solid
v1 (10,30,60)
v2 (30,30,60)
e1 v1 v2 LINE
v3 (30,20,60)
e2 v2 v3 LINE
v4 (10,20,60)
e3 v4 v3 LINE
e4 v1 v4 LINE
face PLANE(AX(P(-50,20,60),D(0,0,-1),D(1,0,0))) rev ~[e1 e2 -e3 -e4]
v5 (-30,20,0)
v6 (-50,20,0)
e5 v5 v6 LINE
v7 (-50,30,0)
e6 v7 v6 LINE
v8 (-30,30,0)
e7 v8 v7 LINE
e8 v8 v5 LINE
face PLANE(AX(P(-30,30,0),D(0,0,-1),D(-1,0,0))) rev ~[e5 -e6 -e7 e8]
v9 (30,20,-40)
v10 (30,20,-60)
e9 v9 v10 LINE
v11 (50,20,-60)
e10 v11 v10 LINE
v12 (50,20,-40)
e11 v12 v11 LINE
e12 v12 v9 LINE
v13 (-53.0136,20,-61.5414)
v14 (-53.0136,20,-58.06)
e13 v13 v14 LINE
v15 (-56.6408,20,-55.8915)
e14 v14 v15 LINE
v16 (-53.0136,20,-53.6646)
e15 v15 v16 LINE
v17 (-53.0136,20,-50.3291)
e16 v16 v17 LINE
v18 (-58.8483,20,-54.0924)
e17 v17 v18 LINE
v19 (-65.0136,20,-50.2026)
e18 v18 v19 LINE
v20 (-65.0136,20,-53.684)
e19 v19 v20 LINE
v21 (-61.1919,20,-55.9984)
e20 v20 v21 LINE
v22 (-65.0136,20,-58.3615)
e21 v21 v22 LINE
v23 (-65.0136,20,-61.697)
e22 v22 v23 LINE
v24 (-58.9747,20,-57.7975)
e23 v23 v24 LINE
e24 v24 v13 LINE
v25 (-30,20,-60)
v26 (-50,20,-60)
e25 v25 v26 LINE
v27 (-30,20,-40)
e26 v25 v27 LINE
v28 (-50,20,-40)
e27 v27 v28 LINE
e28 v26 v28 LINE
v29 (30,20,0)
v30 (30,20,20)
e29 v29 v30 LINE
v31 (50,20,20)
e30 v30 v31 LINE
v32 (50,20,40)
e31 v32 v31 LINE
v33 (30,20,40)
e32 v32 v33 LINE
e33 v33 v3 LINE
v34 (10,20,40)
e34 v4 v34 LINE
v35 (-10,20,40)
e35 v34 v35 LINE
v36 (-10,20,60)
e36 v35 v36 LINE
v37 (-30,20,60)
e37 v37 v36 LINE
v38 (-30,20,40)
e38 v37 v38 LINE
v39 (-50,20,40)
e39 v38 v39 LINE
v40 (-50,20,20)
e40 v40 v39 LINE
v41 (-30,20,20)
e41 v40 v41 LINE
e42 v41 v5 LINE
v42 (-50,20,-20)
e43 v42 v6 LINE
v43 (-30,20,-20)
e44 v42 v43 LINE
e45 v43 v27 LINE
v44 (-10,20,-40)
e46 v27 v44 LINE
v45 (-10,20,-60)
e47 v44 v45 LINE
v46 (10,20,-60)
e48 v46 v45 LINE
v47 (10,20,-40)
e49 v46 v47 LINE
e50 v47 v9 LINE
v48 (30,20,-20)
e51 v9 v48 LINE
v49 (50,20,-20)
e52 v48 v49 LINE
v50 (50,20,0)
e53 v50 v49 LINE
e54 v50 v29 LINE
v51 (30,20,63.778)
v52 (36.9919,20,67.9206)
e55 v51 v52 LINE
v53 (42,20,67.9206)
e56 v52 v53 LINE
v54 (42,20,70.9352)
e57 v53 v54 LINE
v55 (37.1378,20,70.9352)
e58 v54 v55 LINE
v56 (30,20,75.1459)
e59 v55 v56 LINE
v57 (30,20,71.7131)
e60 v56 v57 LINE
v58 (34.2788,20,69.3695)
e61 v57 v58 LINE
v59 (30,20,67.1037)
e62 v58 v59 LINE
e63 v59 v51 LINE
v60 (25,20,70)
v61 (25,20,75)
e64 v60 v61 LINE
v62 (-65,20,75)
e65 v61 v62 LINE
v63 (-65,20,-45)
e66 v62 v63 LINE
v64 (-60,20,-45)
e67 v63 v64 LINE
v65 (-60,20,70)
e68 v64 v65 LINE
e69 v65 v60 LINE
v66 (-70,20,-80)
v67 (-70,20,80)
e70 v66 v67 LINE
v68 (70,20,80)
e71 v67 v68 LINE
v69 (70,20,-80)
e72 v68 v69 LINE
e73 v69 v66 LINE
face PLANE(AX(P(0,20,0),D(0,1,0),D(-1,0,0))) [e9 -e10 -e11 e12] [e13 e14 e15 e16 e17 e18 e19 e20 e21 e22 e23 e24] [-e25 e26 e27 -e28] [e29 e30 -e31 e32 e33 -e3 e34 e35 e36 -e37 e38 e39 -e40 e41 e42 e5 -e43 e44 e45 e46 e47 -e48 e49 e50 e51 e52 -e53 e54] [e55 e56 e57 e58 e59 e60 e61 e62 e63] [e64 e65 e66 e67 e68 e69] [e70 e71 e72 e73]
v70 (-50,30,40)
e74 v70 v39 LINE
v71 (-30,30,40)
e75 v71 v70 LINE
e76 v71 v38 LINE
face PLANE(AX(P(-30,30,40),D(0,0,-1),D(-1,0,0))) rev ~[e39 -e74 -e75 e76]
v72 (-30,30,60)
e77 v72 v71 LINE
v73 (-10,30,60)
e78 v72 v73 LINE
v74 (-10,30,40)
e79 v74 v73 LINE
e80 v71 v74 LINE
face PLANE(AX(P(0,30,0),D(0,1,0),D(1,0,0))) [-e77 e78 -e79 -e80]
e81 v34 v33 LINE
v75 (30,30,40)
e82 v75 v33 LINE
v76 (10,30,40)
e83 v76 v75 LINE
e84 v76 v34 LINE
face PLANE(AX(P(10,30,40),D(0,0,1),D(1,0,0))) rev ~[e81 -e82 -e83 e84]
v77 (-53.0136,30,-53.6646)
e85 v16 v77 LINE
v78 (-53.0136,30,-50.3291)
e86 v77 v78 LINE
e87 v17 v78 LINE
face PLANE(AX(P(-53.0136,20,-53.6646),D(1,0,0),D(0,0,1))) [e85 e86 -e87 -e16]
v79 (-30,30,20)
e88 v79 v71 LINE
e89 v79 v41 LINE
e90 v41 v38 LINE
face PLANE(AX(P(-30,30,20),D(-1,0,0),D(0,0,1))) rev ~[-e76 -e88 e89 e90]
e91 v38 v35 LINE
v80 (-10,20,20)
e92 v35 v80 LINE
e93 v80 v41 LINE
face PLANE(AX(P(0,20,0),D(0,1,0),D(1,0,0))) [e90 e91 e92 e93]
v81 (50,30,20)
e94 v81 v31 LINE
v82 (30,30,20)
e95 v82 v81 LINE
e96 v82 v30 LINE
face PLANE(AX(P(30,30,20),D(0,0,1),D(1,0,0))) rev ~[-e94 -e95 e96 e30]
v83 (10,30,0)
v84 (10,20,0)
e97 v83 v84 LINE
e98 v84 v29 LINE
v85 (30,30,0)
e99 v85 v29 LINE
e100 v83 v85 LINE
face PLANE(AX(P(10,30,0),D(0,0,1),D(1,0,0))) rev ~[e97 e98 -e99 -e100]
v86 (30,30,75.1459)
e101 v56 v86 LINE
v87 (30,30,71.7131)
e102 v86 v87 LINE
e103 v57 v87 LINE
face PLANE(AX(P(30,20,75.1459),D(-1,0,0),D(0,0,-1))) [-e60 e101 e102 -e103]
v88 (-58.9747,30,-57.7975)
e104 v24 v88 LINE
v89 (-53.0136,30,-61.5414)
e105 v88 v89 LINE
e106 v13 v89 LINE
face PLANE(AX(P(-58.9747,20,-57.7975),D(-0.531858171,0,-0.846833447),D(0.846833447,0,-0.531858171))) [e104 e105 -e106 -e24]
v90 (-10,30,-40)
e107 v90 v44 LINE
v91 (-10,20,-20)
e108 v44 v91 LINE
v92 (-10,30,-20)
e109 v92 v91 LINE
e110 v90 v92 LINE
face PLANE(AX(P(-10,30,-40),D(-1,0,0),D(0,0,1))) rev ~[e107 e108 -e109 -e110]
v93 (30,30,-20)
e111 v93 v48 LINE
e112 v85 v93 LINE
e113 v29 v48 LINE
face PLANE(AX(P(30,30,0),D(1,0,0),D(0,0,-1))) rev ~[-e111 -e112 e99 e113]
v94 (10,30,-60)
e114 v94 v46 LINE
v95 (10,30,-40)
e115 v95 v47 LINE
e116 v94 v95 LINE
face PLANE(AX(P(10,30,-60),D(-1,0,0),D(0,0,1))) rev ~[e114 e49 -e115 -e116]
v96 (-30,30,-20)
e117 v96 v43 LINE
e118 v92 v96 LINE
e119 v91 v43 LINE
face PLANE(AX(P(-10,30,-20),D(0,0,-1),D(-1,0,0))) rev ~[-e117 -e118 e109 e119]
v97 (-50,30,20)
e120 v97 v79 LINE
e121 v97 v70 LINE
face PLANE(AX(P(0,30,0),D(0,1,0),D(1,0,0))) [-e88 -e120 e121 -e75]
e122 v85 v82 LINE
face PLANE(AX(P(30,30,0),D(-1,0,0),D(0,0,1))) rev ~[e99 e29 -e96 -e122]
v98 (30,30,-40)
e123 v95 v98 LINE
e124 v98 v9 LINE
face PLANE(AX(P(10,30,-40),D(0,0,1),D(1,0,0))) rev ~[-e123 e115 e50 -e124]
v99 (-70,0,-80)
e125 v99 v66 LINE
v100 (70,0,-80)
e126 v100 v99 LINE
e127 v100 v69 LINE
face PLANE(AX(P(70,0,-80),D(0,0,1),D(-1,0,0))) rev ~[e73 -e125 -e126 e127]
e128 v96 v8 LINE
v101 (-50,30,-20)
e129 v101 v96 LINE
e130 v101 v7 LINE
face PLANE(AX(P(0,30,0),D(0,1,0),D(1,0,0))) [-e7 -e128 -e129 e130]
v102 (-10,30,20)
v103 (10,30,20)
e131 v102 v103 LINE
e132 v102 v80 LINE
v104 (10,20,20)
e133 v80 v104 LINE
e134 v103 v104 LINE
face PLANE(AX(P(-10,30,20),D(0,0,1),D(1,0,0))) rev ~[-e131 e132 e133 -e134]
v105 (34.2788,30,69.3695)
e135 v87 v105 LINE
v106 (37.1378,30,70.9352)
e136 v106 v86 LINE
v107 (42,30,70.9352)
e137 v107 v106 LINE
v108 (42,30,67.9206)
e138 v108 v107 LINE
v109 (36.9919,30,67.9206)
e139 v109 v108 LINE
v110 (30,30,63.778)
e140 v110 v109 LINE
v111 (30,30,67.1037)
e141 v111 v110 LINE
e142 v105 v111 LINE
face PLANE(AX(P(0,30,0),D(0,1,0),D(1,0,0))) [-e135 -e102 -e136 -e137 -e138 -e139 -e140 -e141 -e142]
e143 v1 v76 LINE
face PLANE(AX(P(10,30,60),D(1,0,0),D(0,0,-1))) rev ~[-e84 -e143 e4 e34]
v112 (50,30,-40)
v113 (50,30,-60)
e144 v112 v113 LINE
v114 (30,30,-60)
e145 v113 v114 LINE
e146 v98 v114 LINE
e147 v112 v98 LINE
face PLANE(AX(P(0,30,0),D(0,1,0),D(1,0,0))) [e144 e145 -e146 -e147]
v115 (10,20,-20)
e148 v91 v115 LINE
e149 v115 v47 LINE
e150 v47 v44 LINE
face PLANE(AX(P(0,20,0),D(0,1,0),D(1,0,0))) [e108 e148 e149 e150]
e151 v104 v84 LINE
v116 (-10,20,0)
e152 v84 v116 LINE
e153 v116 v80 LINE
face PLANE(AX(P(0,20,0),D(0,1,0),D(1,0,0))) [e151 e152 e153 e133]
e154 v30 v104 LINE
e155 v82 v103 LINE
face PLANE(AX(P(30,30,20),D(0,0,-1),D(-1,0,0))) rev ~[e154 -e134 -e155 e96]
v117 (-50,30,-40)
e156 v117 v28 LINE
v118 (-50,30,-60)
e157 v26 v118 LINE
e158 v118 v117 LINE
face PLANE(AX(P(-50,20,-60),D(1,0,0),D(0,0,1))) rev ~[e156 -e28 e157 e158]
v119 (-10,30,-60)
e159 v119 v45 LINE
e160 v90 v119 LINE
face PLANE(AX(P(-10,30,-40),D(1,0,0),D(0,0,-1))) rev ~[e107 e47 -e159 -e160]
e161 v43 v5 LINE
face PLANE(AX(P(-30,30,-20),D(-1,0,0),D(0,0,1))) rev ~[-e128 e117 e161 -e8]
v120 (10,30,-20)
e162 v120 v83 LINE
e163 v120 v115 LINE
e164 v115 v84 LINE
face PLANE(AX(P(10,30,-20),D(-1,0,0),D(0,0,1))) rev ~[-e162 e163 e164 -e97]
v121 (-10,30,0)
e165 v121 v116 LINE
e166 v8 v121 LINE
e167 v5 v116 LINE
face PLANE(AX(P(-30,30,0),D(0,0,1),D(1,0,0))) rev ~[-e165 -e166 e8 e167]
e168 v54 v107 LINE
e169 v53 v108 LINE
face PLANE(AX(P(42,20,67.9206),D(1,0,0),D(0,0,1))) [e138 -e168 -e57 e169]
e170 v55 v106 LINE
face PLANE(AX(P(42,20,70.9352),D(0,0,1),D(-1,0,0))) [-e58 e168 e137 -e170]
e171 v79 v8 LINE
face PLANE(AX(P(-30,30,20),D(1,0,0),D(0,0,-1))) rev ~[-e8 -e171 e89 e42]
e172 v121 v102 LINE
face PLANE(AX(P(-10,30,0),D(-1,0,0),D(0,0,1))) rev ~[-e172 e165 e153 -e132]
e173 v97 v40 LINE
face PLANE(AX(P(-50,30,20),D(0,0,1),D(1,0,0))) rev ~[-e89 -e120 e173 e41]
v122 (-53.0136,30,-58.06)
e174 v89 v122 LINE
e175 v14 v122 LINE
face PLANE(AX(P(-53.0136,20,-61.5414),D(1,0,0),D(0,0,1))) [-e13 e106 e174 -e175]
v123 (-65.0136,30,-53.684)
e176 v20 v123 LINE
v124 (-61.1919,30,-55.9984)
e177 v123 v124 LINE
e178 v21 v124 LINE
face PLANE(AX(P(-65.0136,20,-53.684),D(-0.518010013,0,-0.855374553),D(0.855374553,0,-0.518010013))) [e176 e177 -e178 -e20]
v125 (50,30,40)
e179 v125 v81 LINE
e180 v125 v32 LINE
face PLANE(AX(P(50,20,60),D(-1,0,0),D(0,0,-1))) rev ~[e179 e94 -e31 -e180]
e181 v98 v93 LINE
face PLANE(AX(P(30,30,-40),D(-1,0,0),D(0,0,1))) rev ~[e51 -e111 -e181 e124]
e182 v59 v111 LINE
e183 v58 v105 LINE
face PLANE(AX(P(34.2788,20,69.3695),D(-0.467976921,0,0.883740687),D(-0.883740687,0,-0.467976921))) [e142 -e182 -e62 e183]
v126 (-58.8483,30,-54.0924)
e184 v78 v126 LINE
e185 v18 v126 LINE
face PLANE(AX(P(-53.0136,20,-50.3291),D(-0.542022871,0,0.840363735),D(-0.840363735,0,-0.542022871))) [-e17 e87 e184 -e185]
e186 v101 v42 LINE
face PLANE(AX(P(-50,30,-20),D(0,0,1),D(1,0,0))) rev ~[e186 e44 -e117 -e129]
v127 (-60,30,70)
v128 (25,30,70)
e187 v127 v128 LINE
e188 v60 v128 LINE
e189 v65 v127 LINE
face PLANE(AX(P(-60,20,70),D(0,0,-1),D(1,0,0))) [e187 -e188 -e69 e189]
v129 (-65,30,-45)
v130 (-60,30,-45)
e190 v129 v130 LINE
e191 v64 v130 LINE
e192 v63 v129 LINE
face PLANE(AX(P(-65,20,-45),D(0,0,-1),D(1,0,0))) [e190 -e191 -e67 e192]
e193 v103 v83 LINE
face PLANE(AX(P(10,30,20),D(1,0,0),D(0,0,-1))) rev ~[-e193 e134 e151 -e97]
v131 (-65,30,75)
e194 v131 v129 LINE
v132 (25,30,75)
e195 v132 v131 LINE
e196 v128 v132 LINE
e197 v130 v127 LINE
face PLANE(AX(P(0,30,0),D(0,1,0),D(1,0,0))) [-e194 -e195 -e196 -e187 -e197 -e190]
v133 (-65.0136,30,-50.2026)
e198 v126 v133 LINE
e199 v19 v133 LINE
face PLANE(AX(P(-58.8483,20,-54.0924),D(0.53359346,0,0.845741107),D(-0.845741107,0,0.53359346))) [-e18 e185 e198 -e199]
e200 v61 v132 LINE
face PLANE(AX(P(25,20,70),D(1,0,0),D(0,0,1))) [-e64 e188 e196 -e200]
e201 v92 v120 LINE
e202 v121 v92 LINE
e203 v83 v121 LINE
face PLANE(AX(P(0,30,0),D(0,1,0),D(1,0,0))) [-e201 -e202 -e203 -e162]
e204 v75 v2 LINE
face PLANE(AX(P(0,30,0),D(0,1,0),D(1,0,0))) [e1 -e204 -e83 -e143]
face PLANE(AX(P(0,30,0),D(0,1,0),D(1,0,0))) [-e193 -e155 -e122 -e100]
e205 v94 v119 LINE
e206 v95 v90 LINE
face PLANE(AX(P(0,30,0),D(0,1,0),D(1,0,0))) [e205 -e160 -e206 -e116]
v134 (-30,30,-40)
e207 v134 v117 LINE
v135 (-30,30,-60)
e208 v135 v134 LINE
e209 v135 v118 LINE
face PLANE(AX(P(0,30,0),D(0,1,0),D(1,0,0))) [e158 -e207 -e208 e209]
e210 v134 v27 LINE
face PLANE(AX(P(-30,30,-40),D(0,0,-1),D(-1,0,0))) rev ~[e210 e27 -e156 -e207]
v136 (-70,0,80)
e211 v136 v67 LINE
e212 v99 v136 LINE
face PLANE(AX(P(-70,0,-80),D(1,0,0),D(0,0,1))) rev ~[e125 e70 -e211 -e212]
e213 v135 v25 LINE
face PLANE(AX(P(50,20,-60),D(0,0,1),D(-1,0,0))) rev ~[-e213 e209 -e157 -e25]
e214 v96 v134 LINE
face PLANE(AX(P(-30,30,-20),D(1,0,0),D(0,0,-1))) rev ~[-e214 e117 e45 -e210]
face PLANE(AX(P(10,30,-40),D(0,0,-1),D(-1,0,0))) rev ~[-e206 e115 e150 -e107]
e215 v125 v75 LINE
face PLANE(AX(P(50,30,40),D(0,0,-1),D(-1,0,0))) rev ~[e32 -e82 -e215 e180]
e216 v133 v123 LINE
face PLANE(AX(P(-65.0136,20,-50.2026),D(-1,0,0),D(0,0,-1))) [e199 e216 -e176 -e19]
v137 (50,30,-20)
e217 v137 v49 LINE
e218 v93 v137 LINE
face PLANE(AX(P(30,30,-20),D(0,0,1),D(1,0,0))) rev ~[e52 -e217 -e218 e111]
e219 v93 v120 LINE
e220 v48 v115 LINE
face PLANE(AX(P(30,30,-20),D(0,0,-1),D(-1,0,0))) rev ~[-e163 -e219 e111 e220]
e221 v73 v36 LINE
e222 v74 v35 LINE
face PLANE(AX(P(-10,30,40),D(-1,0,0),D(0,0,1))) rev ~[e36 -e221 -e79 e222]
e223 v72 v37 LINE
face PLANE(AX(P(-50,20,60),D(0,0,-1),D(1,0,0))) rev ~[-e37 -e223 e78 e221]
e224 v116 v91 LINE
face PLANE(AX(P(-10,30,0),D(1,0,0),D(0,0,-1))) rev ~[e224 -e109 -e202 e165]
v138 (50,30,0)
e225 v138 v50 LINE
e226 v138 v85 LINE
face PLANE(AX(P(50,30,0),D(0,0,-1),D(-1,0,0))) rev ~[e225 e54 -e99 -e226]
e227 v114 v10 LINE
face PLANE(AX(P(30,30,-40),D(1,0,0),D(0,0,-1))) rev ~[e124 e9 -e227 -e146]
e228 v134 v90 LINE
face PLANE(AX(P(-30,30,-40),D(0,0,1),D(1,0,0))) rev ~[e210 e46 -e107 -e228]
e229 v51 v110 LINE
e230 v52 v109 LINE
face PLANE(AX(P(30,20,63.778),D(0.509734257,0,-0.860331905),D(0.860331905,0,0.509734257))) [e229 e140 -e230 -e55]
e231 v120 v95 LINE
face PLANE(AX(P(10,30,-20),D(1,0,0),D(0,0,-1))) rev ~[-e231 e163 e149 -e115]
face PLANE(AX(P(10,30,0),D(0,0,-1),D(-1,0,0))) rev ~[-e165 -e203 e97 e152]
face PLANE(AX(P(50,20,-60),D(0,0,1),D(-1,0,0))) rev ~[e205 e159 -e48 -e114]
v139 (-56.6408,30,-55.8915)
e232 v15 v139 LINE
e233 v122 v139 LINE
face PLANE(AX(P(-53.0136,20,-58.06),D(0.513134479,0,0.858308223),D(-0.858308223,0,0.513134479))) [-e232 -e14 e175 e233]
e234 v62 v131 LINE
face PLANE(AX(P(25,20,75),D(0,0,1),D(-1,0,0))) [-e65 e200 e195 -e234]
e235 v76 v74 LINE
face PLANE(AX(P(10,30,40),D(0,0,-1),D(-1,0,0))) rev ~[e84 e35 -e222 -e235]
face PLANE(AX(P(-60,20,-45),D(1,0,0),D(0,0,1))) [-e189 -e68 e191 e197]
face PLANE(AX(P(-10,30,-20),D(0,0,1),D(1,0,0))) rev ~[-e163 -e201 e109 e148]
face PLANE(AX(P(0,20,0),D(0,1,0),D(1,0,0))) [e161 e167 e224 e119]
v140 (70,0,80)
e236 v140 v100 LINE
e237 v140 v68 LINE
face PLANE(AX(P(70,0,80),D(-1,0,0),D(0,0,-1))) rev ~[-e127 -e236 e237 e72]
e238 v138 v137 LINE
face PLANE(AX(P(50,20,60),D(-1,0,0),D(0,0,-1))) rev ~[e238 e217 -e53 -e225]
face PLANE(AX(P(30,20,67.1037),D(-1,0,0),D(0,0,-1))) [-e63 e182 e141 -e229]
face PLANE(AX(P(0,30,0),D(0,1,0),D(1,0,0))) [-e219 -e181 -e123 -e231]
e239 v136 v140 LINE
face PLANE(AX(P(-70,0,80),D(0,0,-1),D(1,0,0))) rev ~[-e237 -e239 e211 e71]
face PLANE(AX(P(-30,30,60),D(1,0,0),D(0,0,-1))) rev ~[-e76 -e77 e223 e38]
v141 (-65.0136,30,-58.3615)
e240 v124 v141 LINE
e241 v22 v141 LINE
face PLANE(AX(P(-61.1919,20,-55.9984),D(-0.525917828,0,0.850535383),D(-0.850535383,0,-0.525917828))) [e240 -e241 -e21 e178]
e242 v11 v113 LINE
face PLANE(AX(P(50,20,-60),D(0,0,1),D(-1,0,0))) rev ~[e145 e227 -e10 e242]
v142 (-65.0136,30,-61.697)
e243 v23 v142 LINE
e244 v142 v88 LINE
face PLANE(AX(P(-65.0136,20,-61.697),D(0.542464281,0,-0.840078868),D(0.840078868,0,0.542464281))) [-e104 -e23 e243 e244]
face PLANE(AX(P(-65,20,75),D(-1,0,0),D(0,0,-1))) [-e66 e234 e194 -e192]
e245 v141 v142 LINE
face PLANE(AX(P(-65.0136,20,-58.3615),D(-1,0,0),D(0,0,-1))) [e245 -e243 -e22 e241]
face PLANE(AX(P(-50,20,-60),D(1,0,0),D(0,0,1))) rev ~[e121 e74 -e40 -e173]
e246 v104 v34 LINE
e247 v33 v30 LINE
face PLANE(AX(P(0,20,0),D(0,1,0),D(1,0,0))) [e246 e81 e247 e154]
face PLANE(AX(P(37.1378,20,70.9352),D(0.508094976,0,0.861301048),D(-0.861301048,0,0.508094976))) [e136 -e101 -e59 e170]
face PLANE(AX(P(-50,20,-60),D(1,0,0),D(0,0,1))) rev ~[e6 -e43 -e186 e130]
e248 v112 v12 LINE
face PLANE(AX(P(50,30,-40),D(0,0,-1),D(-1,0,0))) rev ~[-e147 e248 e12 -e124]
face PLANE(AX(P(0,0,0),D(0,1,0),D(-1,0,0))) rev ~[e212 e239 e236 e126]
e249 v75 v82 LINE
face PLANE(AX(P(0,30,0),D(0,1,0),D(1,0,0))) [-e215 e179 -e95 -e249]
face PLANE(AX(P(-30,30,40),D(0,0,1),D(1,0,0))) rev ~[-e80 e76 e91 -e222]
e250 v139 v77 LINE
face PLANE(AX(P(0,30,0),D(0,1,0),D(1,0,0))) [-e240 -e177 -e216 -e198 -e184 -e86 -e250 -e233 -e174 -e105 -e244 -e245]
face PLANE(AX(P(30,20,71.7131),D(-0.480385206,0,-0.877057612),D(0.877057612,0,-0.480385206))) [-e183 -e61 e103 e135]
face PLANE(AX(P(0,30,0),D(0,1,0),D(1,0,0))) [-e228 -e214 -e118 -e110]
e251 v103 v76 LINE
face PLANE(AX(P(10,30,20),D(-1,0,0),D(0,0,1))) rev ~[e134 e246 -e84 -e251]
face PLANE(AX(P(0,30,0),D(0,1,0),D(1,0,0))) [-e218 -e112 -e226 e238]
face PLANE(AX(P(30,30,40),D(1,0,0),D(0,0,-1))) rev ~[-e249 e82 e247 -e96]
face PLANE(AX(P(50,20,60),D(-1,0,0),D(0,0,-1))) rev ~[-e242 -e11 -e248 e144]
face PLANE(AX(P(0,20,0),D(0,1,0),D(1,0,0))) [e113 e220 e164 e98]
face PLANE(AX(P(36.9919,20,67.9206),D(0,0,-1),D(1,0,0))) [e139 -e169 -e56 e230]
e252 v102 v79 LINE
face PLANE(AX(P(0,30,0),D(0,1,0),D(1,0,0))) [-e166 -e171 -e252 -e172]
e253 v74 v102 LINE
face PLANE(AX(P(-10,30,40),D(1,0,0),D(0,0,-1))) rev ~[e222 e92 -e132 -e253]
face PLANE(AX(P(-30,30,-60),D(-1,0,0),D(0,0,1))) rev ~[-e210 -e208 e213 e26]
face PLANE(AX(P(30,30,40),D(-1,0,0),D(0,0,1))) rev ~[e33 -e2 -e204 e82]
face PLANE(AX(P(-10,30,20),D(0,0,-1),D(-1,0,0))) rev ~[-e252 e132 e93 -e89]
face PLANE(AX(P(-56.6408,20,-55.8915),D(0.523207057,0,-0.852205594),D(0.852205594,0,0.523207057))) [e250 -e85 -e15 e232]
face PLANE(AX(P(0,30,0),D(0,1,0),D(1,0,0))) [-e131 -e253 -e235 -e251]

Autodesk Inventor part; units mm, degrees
ref_plane "YZ Plane" through (0, 0, 0) normal (1, 0, 0) x (0, 1, 0)
ref_plane "XZ Plane" through (0, 0, 0) normal (0, 1, 0) x (-1, 0, 0)
ref_plane "XY Plane" through (0, 0, 0) normal (0, 0, 1) x (1, 0, 0)
sketch "Sketch1" plane through (0, 0, 0) normal (0, 1, 0) x (-1, 0, 0)
  line L0 (70, 80) -> (-70, 80)
  line L1 (-70, 80) -> (-70, -80)
  line L2 (-70, -80) -> (70, -80)
  line L3 (70, -80) -> (70, 80)
  point P0 (0, 0)
  dimension "d0" = 140
  dimension "d1" = 160
  dimension "d4" = 70
  dimension "d5" = 80
extrude "Extrusion1" add sketch "Sketch1" along normal blind 20
sketch "Sketch2" plane through (0, 20, 0) normal (0, 1, 0) x (1, 0, 0)
  line L0 (50, 60) -> (-50, 60)
  line L1 (-50, 60) -> (-50, -60)
  line L2 (-50, -60) -> (50, -60)
  line L3 (50, -60) -> (50, 60)
  line L4 (50, 60) -> (-50, -60) construction
  line L5 (-50, 60) -> (50, -60) construction
  point P0 (0, 0)
  dimension "d8" = 100
  dimension "d9" = 120
extrude "Extrusion2" add sketch "Sketch2" along normal blind 10
sketch "Sketch3" plane through (0, 30, 0) normal (0, 1, 0) x (1, 0, 0)
  line L0 (-50, 60) -> (-50, -60) projected
  line L1 (-50, -60) -> (-30, -60)
  line L2 (-30, -60) -> (-30, -40)
  line L3 (-30, -40) -> (-50, -40)
  line L4 (-50, -40) -> (-50, -60)
  line L5 (-10, -60) -> (10, -60)
  line L6 (10, -60) -> (10, -40)
  line L7 (10, -40) -> (-10, -40)
  line L8 (-10, -40) -> (-10, -60)
  line L9 (10, -40) -> (30, -40)
  line L10 (30, -40) -> (30, -20)
  line L11 (30, -20) -> (10, -20)
  line L12 (10, -20) -> (10, -40)
  line L13 (-30, -40) -> (-10, -40)
  line L14 (-10, -40) -> (-10, -20)
  line L15 (-10, -20) -> (-30, -20)
  line L16 (-30, -20) -> (-30, -40)
  line L17 (-50, -60) -> (50, -60) projected
  line L18 (-53.5785, -189.3047) -> (-33.5785, -189.3047)
  line L19 (-33.5785, -189.3047) -> (-33.5785, -169.3047)
  line L20 (-33.5785, -169.3047) -> (-53.5785, -169.3047)
  line L21 (-53.5785, -169.3047) -> (-53.5785, -189.3047)
  line L22 (-50, -20) -> (-30, -20)
  line L23 (-30, -20) -> (-30, 0)
  line L24 (-30, 0) -> (-50, 0)
  line L25 (-50, 0) -> (-50, -20)
  line L26 (-10, -20) -> (10, -20)
  line L27 (10, -20) -> (10, 0)
  line L28 (10, 0) -> (-10, 0)
  line L29 (-10, 0) -> (-10, -20)
  line L30 (10, 40) -> (30, 40)
  line L31 (30, 40) -> (30, 60)
  line L32 (30, 60) -> (10, 60)
  line L33 (10, 60) -> (10, 40)
  line L34 (-10, 20) -> (-30, 20)
  line L35 (-30, 0) -> (-10, 0)
  line L36 (-30, 20) -> (-30, 0)
  line L37 (-10, 0) -> (-10, 20)
  line L38 (10, 40) -> (-10, 40)
  line L39 (-10, 20) -> (10, 20)
  line L40 (-10, 40) -> (-10, 20)
  line L41 (10, 20) -> (10, 40)
  line L42 (30, 20) -> (10, 20)
  line L43 (10, 0) -> (30, 0)
  line L44 (10, 20) -> (10, 0)
  line L45 (30, 0) -> (30, 20)
  line L46 (-10, 60) -> (-30, 60)
  line L47 (-30, 40) -> (-10, 40)
  line L48 (-30, 60) -> (-30, 40)
  line L49 (-10, 40) -> (-10, 60)
  line L50 (-30, 40) -> (-50, 40)
  line L51 (-50, 20) -> (-30, 20)
  line L52 (-50, 40) -> (-50, 20)
  line L53 (-30, 20) -> (-30, 40)
  line L54 (30, 20) -> (50, 20)
  line L55 (50, 20) -> (50, 40)
  line L56 (50, 40) -> (30, 40)
  line L57 (30, 40) -> (30, 20)
  line L58 (30, -20) -> (50, -20)
  line L59 (50, -20) -> (50, 0)
  line L60 (50, 0) -> (30, 0)
  line L61 (30, 0) -> (30, -20)
  line L62 (30, -60) -> (50, -60)
  line L63 (50, -60) -> (50, -40)
  line L64 (50, -40) -> (30, -40)
  line L65 (30, -40) -> (30, -60)
  dimension "d12" = 20
  dimension "d13" = 20
  dimension "d14" = 20
  dimension "d15" = 20
  dimension "d17" = 20
  dimension "d18" = 20
  dimension "d19" = 20
  dimension "d21" = 20
  dimension "d22" = 20
  dimension "d25" = 20
  dimension "d26" = 20
  dimension "d27" = 20
  dimension "d28" = 20
  dimension "d30" = 20
  dimension "d31" = 20
  dimension "d33" = 20
  dimension "d34" = 20
  dimension "d36" = 20
  dimension "d37" = 20
  dimension "d39" = 20
  dimension "d40" = 20
  dimension "d42" = 20
  dimension "d43" = 20
  dimension "d45" = 20
  dimension "d46" = 20
  dimension "d48" = 20
  dimension "d49" = 20
  dimension "d77" = 20
  dimension "d78" = 20
  dimension "d80" = 20
  dimension "d81" = 20
  dimension "d83" = 20
  dimension "d84" = 20
extrude "Extrusion5" cut sketch "Sketch3" against normal blind 10 contours L50 L53 L51 L0 | L48 L46 L49 L47 | L24 L23 L22 L0 | L34 L37 L35 L36 | L38 L41 L39 L40 | L33 L32 L31 L30 | L3 L2 L1 L0 | L15 L14 L13 L16 | L28 L27 L26 L29 | L42 L45 L43 L44 | L56 L55 L54 L57 | L7 L6 L5 L8 | L11 L10 L9 L12 | L60 L59 L58 L61 | L64 L63 L17 L65
sketch "Sketch4" plane through (0, 20, 0) normal (0, 1, 0) x (1, 0, 0)
  line L0 (-65, -75) -> (-65, 45)
  line L1 (-65, 45) -> (-60, 45)
  line L2 (-60, 45) -> (-60, -70)
  line L3 (-60, -70) -> (25, -70)
  line L4 (25, -70) -> (25, -75)
  line L5 (25, -75) -> (-65, -75)
  line L6 (-70, -80) -> (70, -80) projected
  line L7 (-70, 80) -> (-70, -80) projected
  line L8 (-53.0136, 61.5997) -> (-53.0136, 50) construction
  line L9 (-53.0136, 50) -> (-65.2641, 50) construction
  line L10 (-65.2641, 50) -> (-65.2641, 61.5997) construction
  line L11 (-65.2641, 61.5997) -> (-53.0136, 61.5997) construction
  line L12 (30, -75) -> (30, -63.5159) construction
  line L13 (30, -63.5159) -> (34.1954, -63.5159) construction
  line L14 (34.1954, -63.5159) -> (34.1954, -75) construction
  line L15 (34.1954, -75) -> (30, -75) construction
  line L16 (-65.0136, 50.2026) -> (-65.0136, 53.684)
  line L17 (-65.0136, 53.684) -> (-61.1919, 55.9984)
  line L18 (-61.1919, 55.9984) -> (-65.0136, 58.3615)
  line L19 (-65.0136, 58.3615) -> (-65.0136, 61.697)
  line L20 (-65.0136, 61.697) -> (-58.9747, 57.7975)
  line L21 (-58.9747, 57.7975) -> (-53.0136, 61.5414)
  line L22 (-53.0136, 61.5414) -> (-53.0136, 58.06)
  line L23 (-53.0136, 58.06) -> (-56.6408, 55.8915)
  line L24 (-56.6408, 55.8915) -> (-53.0136, 53.6646)
  line L25 (-53.0136, 53.6646) -> (-53.0136, 50.3291)
  line L26 (-53.0136, 50.3291) -> (-58.8483, 54.0924)
  line L27 (-58.8483, 54.0924) -> (-65.0136, 50.2026)
  line L28 (30, -63.778) -> (36.9919, -67.9206)
  line L29 (36.9919, -67.9206) -> (42, -67.9206)
  line L30 (42, -67.9206) -> (42, -70.9352)
  line L31 (42, -70.9352) -> (37.1378, -70.9352)
  line L32 (37.1378, -70.9352) -> (30, -75.1459)
  line L33 (30, -75.1459) -> (30, -71.7131)
  line L34 (30, -71.7131) -> (34.2788, -69.3695)
  line L35 (34.2788, -69.3695) -> (30, -67.1037)
  line L36 (30, -67.1037) -> (30, -63.778)
  point P0 (0, 0)
  point P1 (-62.5, 45)
  point P2 (-58.8748, 54.3197)
  point P3 (25, -72.5)
  point P4 (28.8521, -69.3123)
  point P5 (28.8521, -69.3123)
  dimension "d53" = 5
  dimension "d54" = 5
  dimension "d55" = 5
  dimension "d56" = 5
  dimension "d57" = 120
  dimension "d58" = 90
  dimension "d63" = 12.2505
  dimension "d73" = 5
  dimension "d88" = 5
  dimension "d90" = 5
extrude "Extrusion4" add sketch "Sketch4" along normal blind 10
equation "\"d4\" = 0.5 * d0"
equation "\"d5\" = 0.5 * d1"
equation "\"d12\" = cell"
equation "\"d13\" = cell"
equation "\"d14\" = d16"
equation "\"d15\" = d16"
equation "\"d17\" = cell"
equation "\"d18\" = d20"
equation "\"d19\" = d20"
equation "\"d21\" = d23"
equation "\"d22\" = d23"
equation "\"d25\" = cell"
equation "\"d26\" = cell"
equation "\"d27\" = d29"
equation "\"d28\" = d29"
equation "\"d30\" = d32"
equation "\"d31\" = d32"
equation "\"d33\" = d35"
equation "\"d34\" = d35"
equation "\"d36\" = d38"
equation "\"d37\" = d38"
equation "\"d39\" = d41"
equation "\"d40\" = d41"
equation "\"d42\" = d44"
equation "\"d43\" = d44"
equation "\"d45\" = d47"
equation "\"d46\" = d47"
equation "\"d48\" = d50"
equation "\"d49\" = d50"
equation "\"cell\" = 20"
equation "\"d16\" = 20"
equation "\"d20\" = 20"
equation "\"d23\" = 20"
equation "\"d29\" = 20"
equation "\"d32\" = 20"
equation "\"d35\" = 20"
equation "\"d38\" = 20"
equation "\"d41\" = 20"
equation "\"d44\" = 20"
equation "\"d47\" = 20"
equation "\"d50\" = 20"
properties part number "3D_Grid"
